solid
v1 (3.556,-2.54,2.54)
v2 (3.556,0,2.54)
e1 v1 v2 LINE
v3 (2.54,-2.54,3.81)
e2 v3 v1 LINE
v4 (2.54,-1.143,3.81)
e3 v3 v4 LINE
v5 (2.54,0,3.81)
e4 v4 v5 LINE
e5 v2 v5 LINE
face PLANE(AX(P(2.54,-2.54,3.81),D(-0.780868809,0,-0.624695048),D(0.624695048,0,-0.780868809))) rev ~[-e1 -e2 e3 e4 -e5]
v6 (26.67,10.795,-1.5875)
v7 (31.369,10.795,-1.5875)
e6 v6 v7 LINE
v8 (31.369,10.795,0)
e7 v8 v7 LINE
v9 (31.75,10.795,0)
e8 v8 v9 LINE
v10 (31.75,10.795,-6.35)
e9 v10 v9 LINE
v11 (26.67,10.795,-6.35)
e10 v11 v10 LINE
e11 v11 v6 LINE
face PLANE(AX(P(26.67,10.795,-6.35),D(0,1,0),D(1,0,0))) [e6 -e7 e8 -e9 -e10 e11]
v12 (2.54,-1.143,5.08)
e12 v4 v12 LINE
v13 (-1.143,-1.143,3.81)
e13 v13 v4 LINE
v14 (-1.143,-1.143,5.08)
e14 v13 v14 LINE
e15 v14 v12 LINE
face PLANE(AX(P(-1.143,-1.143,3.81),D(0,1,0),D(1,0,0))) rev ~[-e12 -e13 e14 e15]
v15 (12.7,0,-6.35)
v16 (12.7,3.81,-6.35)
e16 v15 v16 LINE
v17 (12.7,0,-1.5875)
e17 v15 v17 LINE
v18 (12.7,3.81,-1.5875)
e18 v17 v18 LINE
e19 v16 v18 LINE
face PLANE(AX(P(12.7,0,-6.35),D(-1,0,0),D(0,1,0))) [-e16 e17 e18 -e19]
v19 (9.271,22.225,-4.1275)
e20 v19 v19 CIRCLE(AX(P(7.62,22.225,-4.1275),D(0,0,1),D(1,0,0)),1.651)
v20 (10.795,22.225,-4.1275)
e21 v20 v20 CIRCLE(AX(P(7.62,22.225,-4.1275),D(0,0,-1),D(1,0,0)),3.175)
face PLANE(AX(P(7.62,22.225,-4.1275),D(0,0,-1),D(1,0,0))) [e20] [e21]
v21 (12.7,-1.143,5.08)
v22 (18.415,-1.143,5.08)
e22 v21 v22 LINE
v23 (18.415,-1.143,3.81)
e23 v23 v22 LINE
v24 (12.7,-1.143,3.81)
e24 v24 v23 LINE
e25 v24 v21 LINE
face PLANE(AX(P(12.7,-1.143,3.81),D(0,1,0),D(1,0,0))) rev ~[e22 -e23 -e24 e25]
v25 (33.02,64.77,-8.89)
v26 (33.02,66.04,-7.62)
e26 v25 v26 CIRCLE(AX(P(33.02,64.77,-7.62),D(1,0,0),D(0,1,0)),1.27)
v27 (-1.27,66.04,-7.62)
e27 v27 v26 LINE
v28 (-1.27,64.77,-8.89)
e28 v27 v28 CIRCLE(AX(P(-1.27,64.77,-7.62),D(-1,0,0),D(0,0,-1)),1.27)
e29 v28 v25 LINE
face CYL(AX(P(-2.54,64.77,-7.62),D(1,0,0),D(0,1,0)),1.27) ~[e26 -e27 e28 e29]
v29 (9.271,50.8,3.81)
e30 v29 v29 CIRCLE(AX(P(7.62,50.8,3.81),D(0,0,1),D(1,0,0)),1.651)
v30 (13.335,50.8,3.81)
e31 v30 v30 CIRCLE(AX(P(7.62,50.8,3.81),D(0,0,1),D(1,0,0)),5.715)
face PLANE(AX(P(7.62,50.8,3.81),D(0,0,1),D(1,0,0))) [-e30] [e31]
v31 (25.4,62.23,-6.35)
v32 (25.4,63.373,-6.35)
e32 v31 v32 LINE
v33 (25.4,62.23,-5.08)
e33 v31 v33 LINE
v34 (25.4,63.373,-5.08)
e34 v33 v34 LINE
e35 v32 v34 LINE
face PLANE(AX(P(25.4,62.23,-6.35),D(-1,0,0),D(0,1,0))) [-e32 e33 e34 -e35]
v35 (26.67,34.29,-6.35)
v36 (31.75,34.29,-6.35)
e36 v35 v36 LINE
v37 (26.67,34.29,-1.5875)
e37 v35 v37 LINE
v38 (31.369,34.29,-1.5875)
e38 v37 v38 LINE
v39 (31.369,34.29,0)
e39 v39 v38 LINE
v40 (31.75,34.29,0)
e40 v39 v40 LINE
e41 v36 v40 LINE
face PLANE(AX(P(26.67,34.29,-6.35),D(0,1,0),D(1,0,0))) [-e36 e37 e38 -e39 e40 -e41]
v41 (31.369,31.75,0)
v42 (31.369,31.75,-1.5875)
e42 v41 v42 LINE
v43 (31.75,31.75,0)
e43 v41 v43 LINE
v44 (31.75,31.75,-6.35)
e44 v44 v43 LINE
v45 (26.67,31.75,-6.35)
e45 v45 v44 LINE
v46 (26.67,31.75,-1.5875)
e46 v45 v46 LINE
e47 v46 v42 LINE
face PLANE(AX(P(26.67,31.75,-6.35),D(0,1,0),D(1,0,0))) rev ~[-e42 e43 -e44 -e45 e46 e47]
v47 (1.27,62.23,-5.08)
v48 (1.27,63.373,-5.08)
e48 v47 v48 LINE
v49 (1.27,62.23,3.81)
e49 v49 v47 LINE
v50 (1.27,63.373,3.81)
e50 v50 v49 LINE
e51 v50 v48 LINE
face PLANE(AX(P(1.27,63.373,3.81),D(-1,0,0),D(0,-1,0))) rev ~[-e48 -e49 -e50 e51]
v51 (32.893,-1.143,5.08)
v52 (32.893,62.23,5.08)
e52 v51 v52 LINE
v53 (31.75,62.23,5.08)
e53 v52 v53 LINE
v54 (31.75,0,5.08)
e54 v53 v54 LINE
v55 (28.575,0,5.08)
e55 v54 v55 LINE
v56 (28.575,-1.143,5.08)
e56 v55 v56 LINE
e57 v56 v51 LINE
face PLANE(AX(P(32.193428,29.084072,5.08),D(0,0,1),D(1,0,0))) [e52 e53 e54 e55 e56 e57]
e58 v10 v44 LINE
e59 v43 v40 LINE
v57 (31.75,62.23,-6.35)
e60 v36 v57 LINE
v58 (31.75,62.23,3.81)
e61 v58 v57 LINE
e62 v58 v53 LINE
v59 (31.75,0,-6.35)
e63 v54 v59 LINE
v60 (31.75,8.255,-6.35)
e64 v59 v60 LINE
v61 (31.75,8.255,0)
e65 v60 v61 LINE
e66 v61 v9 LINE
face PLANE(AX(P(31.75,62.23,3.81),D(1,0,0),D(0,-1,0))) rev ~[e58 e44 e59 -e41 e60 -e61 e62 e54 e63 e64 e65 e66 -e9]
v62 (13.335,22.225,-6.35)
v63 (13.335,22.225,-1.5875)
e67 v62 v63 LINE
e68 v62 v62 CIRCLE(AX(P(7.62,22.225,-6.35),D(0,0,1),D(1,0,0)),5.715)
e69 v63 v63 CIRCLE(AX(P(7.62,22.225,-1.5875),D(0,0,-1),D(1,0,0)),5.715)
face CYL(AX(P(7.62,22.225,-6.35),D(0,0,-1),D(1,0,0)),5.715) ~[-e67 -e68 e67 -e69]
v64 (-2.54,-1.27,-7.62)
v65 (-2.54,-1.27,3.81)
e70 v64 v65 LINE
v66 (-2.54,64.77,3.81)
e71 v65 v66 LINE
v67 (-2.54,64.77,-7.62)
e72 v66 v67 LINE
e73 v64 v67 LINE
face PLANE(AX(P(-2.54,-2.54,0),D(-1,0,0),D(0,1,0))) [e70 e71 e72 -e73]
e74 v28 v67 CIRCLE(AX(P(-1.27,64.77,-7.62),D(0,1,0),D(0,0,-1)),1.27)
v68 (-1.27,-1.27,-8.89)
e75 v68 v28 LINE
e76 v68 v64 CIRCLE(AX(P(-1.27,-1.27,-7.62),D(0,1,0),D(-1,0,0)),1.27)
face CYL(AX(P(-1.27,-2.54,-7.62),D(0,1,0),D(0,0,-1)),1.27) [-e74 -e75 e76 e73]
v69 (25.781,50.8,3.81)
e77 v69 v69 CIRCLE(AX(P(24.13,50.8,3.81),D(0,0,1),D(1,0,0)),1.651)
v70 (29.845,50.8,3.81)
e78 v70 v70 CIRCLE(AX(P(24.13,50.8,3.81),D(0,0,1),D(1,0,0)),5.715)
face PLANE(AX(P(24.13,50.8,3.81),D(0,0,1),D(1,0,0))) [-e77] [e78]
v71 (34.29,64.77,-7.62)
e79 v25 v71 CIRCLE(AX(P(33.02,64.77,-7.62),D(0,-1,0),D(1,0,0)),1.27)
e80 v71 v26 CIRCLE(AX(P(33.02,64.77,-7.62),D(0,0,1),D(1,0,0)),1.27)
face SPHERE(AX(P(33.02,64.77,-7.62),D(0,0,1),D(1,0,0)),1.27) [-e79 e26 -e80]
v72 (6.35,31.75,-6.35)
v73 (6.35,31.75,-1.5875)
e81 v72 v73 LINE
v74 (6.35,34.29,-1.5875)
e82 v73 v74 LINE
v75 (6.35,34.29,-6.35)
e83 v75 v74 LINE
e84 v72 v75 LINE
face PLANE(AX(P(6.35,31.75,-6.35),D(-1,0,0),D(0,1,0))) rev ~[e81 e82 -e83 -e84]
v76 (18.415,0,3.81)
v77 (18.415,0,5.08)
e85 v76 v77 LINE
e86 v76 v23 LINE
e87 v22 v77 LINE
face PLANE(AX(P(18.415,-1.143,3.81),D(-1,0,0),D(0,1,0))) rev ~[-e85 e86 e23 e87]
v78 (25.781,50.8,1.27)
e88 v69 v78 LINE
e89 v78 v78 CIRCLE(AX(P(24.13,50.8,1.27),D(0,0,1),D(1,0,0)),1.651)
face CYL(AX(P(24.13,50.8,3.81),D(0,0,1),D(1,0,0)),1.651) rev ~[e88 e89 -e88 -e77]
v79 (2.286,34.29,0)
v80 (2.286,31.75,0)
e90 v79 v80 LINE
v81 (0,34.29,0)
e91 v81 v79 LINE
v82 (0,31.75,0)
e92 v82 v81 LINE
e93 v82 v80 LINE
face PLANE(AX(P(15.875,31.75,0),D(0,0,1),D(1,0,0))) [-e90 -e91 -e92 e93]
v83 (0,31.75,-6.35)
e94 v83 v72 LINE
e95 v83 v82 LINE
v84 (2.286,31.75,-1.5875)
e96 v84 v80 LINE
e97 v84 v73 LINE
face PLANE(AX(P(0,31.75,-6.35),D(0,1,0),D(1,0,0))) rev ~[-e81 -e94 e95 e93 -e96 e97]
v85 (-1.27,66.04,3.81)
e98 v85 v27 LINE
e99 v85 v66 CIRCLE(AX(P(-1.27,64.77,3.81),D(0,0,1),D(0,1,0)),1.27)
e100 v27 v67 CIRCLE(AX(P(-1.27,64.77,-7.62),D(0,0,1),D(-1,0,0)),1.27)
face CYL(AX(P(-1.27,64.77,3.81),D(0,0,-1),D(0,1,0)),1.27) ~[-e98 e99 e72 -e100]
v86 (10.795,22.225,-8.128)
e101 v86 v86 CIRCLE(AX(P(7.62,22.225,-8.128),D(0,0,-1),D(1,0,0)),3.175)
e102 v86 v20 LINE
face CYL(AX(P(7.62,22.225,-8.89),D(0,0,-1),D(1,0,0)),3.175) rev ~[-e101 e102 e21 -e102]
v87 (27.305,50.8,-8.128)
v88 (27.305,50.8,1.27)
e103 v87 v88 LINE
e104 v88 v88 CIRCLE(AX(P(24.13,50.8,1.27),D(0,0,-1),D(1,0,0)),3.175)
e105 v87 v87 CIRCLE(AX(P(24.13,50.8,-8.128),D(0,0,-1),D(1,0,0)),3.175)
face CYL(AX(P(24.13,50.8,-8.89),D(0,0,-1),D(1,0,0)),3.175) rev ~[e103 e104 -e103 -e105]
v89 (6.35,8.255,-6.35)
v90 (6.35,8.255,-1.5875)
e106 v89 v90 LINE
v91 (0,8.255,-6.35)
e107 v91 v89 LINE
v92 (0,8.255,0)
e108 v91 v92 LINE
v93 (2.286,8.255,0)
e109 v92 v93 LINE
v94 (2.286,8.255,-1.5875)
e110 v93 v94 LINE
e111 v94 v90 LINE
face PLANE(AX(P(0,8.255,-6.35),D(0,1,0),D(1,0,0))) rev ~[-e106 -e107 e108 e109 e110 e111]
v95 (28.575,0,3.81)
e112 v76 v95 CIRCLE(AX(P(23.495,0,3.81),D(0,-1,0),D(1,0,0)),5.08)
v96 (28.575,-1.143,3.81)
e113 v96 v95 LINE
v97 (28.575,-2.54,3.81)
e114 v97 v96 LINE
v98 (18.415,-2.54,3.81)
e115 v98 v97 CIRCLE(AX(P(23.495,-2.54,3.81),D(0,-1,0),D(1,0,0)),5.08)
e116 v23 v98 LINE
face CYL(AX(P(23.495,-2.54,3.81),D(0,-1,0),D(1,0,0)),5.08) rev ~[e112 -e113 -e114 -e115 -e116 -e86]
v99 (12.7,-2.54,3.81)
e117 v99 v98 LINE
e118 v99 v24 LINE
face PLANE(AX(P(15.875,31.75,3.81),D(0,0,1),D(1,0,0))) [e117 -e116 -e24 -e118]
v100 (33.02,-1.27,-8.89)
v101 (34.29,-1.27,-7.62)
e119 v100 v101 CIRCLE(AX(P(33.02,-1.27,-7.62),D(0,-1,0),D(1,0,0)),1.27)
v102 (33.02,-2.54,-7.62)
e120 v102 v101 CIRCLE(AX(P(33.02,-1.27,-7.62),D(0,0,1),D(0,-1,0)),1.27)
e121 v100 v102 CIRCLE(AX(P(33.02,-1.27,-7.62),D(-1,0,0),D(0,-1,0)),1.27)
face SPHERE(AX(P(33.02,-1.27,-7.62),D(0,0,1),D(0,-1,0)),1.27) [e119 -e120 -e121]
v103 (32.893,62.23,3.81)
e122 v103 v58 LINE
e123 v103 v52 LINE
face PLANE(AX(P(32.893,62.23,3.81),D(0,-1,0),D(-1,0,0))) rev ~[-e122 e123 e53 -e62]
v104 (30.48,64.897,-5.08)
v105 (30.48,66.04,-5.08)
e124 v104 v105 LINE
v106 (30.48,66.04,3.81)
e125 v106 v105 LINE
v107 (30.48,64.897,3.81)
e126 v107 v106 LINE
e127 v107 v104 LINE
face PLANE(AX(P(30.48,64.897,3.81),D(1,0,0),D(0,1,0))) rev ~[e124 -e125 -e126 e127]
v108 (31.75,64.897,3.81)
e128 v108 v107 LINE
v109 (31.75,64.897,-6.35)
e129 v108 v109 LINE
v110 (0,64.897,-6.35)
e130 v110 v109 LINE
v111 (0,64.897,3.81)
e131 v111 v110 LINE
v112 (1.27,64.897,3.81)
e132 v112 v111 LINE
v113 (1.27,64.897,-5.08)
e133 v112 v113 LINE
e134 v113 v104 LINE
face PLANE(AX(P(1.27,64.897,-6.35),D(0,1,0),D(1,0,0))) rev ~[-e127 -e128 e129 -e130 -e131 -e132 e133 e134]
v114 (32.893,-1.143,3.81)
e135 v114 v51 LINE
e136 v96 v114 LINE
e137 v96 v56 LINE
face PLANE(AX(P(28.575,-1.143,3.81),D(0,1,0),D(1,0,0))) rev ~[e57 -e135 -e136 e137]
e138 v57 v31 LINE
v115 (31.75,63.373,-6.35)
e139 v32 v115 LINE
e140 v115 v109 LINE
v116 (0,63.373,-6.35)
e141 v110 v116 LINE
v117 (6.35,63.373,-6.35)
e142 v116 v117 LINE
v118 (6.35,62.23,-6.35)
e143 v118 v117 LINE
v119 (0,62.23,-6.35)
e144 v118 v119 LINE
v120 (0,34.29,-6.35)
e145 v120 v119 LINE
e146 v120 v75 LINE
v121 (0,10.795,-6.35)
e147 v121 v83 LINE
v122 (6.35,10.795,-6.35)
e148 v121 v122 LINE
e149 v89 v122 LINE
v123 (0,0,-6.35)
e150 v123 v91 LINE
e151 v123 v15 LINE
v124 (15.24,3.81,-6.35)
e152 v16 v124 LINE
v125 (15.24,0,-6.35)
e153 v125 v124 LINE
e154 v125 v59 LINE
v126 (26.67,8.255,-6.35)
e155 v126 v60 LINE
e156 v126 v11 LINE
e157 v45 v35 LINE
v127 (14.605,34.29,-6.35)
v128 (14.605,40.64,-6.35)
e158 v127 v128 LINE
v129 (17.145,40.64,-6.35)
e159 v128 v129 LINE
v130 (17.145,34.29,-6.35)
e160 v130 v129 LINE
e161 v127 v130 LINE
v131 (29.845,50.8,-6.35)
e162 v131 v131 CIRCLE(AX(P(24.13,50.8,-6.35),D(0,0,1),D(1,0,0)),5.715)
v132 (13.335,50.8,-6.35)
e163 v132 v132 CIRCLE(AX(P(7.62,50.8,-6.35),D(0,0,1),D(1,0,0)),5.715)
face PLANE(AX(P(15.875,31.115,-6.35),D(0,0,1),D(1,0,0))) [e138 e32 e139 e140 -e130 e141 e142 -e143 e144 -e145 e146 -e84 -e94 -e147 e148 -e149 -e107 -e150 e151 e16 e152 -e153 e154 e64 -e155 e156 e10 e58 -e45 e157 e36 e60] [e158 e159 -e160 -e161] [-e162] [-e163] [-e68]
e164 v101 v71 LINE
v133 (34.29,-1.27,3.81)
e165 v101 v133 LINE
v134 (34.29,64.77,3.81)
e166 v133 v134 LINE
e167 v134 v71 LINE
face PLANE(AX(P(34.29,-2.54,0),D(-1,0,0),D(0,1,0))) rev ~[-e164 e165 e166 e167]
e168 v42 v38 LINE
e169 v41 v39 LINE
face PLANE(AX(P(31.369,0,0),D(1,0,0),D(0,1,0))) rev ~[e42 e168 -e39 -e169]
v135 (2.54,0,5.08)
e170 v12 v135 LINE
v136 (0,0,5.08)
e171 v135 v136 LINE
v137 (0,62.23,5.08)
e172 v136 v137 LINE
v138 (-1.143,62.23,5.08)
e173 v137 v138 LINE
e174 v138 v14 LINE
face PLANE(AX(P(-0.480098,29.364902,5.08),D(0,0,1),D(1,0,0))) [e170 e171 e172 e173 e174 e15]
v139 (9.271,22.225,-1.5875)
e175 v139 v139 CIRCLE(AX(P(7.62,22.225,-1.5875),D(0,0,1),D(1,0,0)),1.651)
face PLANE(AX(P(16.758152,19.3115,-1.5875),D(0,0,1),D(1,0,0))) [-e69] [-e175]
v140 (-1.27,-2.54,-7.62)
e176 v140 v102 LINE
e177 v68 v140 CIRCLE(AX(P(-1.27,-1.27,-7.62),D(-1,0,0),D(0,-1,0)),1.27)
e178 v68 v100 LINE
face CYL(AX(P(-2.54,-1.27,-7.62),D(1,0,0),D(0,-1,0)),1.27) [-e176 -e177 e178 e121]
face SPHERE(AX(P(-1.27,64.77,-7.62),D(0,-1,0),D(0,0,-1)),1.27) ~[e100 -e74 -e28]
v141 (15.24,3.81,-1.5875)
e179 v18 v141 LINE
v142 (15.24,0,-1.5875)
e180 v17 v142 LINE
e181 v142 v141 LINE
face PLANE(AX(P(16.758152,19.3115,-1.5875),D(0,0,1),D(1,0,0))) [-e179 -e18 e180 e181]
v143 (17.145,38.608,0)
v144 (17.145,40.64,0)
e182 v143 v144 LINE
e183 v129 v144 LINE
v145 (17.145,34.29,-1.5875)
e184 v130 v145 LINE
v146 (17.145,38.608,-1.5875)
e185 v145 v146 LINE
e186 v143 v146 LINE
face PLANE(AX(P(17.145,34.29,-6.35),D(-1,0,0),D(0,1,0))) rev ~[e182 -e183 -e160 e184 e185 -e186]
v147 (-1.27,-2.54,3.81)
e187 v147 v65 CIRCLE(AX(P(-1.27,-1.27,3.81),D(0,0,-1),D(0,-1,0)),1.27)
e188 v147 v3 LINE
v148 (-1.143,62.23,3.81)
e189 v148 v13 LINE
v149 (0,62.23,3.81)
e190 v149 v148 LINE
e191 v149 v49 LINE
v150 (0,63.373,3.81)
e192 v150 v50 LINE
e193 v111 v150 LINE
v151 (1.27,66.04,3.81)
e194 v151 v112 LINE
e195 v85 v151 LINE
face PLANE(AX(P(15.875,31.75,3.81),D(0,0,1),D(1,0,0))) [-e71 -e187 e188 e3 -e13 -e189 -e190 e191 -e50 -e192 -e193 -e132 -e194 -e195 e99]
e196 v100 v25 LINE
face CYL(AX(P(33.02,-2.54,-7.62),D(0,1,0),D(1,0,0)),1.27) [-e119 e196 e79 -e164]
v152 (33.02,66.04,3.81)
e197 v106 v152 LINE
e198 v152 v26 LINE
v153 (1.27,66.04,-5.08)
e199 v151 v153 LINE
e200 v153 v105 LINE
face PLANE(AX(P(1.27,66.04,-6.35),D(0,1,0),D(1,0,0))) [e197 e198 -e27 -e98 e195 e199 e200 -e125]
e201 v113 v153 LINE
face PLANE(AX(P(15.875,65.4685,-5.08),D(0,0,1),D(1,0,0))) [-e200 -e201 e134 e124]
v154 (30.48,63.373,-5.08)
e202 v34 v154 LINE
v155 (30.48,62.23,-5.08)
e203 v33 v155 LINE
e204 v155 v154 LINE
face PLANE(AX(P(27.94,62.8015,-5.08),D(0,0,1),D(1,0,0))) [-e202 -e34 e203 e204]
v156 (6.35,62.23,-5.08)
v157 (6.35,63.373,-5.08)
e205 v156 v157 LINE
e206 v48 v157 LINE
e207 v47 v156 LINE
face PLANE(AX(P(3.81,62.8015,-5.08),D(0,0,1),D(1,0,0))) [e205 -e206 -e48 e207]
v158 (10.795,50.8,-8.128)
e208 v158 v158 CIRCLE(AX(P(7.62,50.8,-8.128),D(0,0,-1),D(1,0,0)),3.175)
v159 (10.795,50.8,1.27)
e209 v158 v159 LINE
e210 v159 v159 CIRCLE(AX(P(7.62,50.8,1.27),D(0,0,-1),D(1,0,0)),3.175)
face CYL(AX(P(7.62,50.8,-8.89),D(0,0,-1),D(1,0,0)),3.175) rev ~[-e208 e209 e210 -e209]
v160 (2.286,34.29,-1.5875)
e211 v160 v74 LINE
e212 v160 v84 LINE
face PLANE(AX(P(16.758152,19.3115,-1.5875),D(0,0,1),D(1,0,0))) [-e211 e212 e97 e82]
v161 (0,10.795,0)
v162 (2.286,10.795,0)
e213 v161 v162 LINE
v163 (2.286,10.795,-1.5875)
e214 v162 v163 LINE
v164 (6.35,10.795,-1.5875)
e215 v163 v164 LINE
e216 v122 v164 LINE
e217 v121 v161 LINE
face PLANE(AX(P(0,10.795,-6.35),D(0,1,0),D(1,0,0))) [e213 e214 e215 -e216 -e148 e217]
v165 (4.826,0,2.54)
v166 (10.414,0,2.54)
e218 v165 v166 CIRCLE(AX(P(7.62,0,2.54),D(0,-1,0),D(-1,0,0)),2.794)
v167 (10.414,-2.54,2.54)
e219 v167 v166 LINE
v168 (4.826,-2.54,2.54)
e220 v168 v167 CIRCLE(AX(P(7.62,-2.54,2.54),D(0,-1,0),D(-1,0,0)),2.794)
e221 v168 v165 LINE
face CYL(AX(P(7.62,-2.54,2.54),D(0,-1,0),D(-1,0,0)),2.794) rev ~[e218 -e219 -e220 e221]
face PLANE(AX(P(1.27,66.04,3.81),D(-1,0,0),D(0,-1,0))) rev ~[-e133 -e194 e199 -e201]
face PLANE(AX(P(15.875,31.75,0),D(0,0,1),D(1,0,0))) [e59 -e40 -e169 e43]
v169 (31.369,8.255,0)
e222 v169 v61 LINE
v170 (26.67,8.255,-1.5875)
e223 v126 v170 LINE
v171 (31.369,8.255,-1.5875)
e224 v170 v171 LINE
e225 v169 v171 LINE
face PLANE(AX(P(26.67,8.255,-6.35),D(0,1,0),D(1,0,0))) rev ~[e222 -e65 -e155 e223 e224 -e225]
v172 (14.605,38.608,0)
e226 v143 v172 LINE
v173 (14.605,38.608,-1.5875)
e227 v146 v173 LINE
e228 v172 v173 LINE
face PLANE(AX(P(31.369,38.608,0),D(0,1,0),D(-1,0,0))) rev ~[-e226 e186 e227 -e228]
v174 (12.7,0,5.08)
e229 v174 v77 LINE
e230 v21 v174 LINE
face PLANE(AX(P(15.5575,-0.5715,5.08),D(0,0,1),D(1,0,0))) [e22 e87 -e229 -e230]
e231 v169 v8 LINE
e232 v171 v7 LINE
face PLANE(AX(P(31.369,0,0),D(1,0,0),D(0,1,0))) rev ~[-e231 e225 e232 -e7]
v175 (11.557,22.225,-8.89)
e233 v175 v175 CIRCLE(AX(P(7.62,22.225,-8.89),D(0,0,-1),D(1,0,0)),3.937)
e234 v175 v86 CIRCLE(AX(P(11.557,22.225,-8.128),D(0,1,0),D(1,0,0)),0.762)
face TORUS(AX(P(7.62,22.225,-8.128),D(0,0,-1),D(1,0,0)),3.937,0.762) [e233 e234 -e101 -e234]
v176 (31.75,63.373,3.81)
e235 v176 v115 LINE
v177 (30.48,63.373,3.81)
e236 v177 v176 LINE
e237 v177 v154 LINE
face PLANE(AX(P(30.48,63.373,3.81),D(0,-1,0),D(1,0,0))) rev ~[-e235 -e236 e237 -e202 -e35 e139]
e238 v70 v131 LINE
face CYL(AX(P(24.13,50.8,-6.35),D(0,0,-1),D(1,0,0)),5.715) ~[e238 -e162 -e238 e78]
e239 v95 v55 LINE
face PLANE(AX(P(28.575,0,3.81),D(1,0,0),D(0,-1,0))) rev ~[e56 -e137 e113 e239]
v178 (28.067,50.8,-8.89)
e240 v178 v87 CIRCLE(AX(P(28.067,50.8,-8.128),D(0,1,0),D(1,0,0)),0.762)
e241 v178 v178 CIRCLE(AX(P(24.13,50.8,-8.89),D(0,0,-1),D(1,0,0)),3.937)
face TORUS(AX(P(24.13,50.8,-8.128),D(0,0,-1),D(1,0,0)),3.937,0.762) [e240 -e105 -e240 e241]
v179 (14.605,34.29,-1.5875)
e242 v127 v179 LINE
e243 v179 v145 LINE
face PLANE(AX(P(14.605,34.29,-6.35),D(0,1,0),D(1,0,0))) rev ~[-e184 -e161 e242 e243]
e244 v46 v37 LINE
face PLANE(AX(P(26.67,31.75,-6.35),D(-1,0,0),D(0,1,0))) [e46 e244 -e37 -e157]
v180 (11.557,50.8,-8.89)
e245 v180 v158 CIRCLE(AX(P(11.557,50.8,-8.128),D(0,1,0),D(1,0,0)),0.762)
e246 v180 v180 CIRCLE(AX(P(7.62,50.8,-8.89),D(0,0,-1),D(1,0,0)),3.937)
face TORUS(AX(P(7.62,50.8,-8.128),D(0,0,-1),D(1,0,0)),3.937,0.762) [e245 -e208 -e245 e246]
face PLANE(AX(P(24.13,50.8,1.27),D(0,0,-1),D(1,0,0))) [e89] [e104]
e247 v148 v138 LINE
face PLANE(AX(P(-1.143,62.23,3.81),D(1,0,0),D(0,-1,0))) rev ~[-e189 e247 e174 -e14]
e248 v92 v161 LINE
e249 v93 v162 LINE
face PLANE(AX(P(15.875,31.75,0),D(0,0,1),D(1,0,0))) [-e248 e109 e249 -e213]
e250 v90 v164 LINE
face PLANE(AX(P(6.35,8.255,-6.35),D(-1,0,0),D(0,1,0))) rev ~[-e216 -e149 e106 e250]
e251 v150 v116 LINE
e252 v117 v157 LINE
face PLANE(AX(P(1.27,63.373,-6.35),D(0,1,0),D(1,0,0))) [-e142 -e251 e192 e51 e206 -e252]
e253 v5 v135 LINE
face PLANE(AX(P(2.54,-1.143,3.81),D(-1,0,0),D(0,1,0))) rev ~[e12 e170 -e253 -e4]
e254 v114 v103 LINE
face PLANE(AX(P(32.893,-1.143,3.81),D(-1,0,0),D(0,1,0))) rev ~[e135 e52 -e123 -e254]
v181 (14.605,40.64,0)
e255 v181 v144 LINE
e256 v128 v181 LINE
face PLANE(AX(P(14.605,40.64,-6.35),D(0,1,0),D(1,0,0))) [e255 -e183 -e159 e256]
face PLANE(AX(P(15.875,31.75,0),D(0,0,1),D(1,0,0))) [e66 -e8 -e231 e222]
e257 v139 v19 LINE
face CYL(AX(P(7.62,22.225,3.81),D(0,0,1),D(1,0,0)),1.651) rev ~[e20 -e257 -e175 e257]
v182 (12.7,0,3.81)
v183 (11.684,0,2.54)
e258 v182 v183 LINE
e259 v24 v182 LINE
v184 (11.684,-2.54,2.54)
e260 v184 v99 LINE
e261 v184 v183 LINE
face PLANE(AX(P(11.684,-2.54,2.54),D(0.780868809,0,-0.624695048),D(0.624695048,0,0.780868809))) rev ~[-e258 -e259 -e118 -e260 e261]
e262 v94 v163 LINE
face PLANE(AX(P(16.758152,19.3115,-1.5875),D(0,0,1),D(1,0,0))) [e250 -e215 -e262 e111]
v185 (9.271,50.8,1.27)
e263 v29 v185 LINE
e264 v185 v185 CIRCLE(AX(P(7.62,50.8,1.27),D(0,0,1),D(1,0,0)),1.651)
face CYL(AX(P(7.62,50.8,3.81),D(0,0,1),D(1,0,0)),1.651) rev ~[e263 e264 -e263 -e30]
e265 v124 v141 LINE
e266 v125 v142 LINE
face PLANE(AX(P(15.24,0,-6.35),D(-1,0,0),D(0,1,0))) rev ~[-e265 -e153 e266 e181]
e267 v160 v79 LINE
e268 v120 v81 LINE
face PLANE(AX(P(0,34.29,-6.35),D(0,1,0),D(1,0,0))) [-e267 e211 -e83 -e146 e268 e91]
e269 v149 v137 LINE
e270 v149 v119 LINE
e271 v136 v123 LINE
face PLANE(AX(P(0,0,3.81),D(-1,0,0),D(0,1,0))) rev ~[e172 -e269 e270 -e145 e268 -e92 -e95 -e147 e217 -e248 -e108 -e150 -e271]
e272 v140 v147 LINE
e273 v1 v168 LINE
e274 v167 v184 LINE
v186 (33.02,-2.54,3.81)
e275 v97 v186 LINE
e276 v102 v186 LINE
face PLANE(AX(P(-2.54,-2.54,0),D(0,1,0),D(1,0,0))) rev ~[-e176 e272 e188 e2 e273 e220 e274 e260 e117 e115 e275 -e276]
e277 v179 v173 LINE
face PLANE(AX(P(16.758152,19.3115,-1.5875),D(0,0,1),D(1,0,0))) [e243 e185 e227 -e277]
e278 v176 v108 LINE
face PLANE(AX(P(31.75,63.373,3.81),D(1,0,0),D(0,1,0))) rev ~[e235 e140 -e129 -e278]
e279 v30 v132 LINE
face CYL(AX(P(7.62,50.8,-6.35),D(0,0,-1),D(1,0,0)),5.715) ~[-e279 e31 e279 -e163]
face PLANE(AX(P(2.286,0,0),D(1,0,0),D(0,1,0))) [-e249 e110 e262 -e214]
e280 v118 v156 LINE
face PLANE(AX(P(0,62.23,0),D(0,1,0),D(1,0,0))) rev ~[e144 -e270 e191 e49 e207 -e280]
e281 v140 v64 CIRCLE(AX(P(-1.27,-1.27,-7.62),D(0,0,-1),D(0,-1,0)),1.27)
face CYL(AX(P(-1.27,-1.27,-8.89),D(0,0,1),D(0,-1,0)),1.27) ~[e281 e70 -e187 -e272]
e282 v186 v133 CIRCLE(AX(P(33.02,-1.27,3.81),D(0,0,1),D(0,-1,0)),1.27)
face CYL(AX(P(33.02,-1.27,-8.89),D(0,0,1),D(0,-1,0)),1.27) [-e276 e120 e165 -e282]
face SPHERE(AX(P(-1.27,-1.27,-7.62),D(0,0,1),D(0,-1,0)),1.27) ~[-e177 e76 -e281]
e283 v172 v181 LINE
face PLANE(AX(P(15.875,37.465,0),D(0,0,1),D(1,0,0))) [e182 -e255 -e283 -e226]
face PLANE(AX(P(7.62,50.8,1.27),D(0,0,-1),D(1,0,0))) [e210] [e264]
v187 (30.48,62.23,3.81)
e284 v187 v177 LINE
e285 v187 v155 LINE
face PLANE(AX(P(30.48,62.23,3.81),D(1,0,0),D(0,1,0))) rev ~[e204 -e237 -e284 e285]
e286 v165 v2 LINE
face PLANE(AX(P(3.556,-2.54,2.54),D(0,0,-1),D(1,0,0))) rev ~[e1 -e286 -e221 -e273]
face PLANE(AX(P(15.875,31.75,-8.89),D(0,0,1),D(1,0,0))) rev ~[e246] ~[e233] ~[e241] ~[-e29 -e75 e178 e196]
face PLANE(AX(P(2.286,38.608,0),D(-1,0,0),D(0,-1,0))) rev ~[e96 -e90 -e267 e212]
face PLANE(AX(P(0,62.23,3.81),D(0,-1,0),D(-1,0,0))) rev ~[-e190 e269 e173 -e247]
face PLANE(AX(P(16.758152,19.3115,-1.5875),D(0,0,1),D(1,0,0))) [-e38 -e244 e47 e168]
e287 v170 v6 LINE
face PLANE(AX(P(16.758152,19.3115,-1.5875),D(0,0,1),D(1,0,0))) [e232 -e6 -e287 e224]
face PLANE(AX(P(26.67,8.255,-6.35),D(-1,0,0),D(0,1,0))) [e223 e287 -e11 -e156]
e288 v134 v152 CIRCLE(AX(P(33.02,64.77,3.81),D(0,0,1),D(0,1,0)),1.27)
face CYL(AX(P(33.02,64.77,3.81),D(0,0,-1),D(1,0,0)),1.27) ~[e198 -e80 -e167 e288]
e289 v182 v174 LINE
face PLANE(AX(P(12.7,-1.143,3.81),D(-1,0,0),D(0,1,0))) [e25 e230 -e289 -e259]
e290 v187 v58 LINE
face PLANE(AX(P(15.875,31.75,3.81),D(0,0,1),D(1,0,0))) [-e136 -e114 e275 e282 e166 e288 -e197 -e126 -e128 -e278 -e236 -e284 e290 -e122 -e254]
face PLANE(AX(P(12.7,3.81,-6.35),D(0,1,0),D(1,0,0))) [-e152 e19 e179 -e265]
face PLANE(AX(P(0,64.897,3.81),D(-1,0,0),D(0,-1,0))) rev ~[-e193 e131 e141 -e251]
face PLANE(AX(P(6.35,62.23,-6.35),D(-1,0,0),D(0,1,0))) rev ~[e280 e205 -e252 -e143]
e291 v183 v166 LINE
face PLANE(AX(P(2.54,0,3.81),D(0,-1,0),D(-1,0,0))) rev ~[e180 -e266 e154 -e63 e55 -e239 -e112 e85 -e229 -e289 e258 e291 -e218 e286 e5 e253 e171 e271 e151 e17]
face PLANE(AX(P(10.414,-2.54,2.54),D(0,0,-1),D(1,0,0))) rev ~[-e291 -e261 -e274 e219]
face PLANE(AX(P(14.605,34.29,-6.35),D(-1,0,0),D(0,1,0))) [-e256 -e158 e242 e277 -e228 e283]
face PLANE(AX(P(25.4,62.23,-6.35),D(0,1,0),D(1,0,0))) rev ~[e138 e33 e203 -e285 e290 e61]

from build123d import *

# Parameters (mm, degrees)
SKETCH008_W     = 36.83
SKETCH008_H     = 68.58
PAD006_DEPTH    = 8.89
SKETCH009_W     = 31.75
SKETCH009_H     = 62.23
POCKET001_DEPTH = 6.35
SKETCH010_R     = 5.715
SKETCH010_W     = 6.35
SKETCH010_H     = 2.54
SKETCH010_W_2   = 5.08
SKETCH010_W_3   = 2.54
SKETCH010_H_2   = 6.35
SKETCH010_H_3   = 3.81
PAD007_DEPTH    = 6.35
POCKET002_DEPTH = 1.5875
SKETCH012_W     = 36.83
SKETCH012_H     = 68.58
SKETCH012_W_2   = 31.75
SKETCH012_H_2   = 62.23
SKETCH012_R     = 5.715
PAD008_DEPTH    = 3.81
SKETCH013_R     = 5.08
POCKET003_DEPTH = 5.08
SKETCH014_R     = 1.651
POCKET004_DEPTH = 12.701
SKETCH015_R     = 3.175
POCKET005_DEPTH = 10.16
SKETCH016_R     = 3.175
POCKET006_DEPTH = 4.7625
SKETCH017_W     = 5.715
SKETCH017_H     = 1.143
PAD009_DEPTH    = 1.27
POCKET007_DEPTH = 10.16
SKETCH019_W     = 29.21
SKETCH019_H     = 1.143
SKETCH019_W_2   = 5.08
PAD010_DEPTH    = 1.27
FILLET004_R     = 1.27
FILLET005_R     = 0.762


with BuildPart() as part:
    # Sketch008 → Pad006 (new body)
    with BuildSketch(Plane.XY):
        with Locations((15.875, 31.75)):
            Rectangle(SKETCH008_W, SKETCH008_H)
    extrude(amount=-PAD006_DEPTH)

    # Sketch009 (on Face5 of Pad006) → Pocket001 (cut)
    with BuildSketch(Plane.XY):
        with Locations((15.875, 31.115)):
            Rectangle(SKETCH009_W, SKETCH009_H)
    extrude(amount=-POCKET001_DEPTH, mode=Mode.SUBTRACT)

    # Sketch010 (on Face11 of Pocket001) → Pad007 (join)
    with BuildSketch(Plane.XY.offset(-6.35)):
        with Locations((7.62, 22.225)):
            Circle(SKETCH010_R)
        with Locations((7.62, 50.8)):
            Circle(SKETCH010_R)
        with Locations((24.13, 50.8)):
            Circle(SKETCH010_R)
        with Locations((3.175, 33.02)):
            Rectangle(SKETCH010_W, SKETCH010_H)
        with Locations((29.21, 33.02)):
            Rectangle(SKETCH010_W_2, SKETCH010_H)
        with Locations((3.175, 9.525)):
            Rectangle(SKETCH010_W, SKETCH010_H)
        with Locations((29.21, 9.525)):
            Rectangle(SKETCH010_W_2, SKETCH010_H)
        with Locations((15.875, 37.465)):
            Rectangle(SKETCH010_W_3, SKETCH010_H_2)
        with Locations((13.97, 1.905)):
            Rectangle(SKETCH010_W_3, SKETCH010_H_3)
    extrude(amount=PAD007_DEPTH)

    # Sketch011 (on Face4 of Pad007) → Pocket002 (cut)
    with BuildSketch(Plane.XY):
        with BuildLine():
            Line((2.286, 0), (31.369, 0))
            Line((31.369, 0), (31.369, 38.608))
            Line((31.369, 38.608), (2.286, 38.608))
            Line((2.286, 38.608), (2.286, 25.670424))
            ThreePointArc((2.286, 25.670424), (1.27, 22.225), (2.286, 18.779576))
            Line((2.286, 0), (2.286, 18.779576))
        make_face()
    extrude(amount=-POCKET002_DEPTH, mode=Mode.SUBTRACT)

    # Sketch012 (on Face4 of Pocket002) → Pad008 (join)
    with BuildSketch(Plane.XY):
        with Locations((15.875, 31.75)):
            Rectangle(SKETCH012_W, SKETCH012_H)
        with Locations((15.875, 31.115)):
            Rectangle(SKETCH012_W_2, SKETCH012_H_2, mode=Mode.SUBTRACT)
        with Locations((7.62, 50.8)):
            Circle(SKETCH012_R)
        with Locations((24.13, 50.8)):
            Circle(SKETCH012_R)
    extrude(amount=PAD008_DEPTH)

    # Sketch013 (on Face4 of Pad008) → Pocket003 (cut)
    with BuildSketch(Plane.XZ.offset(2.54)):
        with Locations((23.495, 3.81)):
            Circle(SKETCH013_R)
        with BuildLine():
            Line((2.54, 3.81), (3.556, 2.54))
            Line((3.556, 2.54), (4.826, 2.54))
            ThreePointArc((4.826, 2.54), (7.62, -0.254), (10.414, 2.54))
            Line((10.414, 2.54), (11.684, 2.54))
            Line((11.684, 2.54), (12.7, 3.81))
            Line((12.7, 3.81), (2.54, 3.81))
        make_face()
    extrude(amount=-POCKET003_DEPTH, mode=Mode.SUBTRACT)

    # Sketch014 (on Face11 of Pocket003) → Pocket004 (cut, through all)
    with BuildSketch(Plane.XY.offset(3.81)):
        with Locations((7.62, 50.8)):
            Circle(SKETCH014_R)
        with Locations((24.13, 50.8)):
            Circle(SKETCH014_R)
        with Locations((7.62, 22.225)):
            Circle(SKETCH014_R)
    extrude(amount=-POCKET004_DEPTH, mode=Mode.SUBTRACT)

    # Sketch015 (on Face8 of Pocket004) → Pocket005 (cut)
    with BuildSketch(Plane(origin=(0, 0, -8.89), x_dir=(1, 0, 0), z_dir=(0, 0, -1))):
        with Locations((7.62, -50.8)):
            Circle(SKETCH015_R)
        with Locations((24.13, -50.8)):
            Circle(SKETCH015_R)
    extrude(amount=-POCKET005_DEPTH, mode=Mode.SUBTRACT)

    # Sketch016 (on Face8 of Pocket005) → Pocket006 (cut)
    with BuildSketch(Plane(origin=(0, 0, -8.89), x_dir=(1, 0, 0), z_dir=(0, 0, -1))):
        with Locations((7.62, -22.225)):
            Circle(SKETCH016_R)
    extrude(amount=-POCKET006_DEPTH, mode=Mode.SUBTRACT)

    # Sketch017 (on Face11 of Pocket006) → Pad009 (join)
    with BuildSketch(Plane.XY.offset(3.81)):
        Polygon((0, 62.23), (-1.143, 62.23), (-1.143, -1.143), (2.54, -1.143), (2.54, 0), (0, 0), align=None)
        Polygon((31.75, 62.23), (31.75, 0), (28.575, 0), (28.575, -1.143), (32.893, -1.143), (32.893, 62.23), align=None)
        with Locations((15.5575, -0.5715)):
            Rectangle(SKETCH017_W, SKETCH017_H)
    extrude(amount=PAD009_DEPTH)

    # Sketch018 (on Face11 of Pad009) → Pocket007 (cut)
    with BuildSketch(Plane.XY.offset(3.81)):
        Polygon((1.27, 66.04), (1.27, 64.897), (0, 64.897), (0, 63.373), (1.27, 63.373), (1.27, 62.23), (30.48, 62.23), (30.48, 63.373), (31.75, 63.373), (31.75, 64.897), (30.48, 64.897), (30.48, 66.04), align=None)
    extrude(amount=-POCKET007_DEPTH, mode=Mode.SUBTRACT)

    # Sketch019 (on Face63 of Pocket007) → Pad010 (join)
    with BuildSketch(Plane.XY.offset(-6.35)):
        with Locations((15.875, 65.4685)):
            Rectangle(SKETCH019_W, SKETCH019_H)
        with Locations((3.81, 62.8015)):
            Rectangle(SKETCH019_W_2, SKETCH019_H)
        with Locations((27.94, 62.8015)):
            Rectangle(SKETCH019_W_2, SKETCH019_H)
    extrude(amount=PAD010_DEPTH)

    # Fillet004
    fillet004_edges = [part.edges().sort_by_distance(p)[0] for p in [
        (-2.54, -2.54, 1.905),
        (-2.54, -2.54, -4.445),
        (34.29, -2.54, -4.445),
        (34.29, -2.54, 1.905),
        (34.29, 66.04, 1.905),
        (34.29, 66.04, -4.445),
        (15.875, -2.54, -8.89),
        (34.29, 31.75, -8.89),
        (-2.54, 31.75, -8.89),
        (15.875, 66.04, -8.89),
        (-2.54, 66.04, 1.905),
        (-2.54, 66.04, -4.445),
    ]]
    fillet(fillet004_edges, radius=FILLET004_R)

    # Fillet005
    fillet005_edges = [part.edges().sort_by_distance(p)[0] for p in [
        (4.445, 22.225, -8.89),
        (20.955, 50.8, -8.89),
        (4.445, 50.8, -8.89),
    ]]
    fillet(fillet005_edges, radius=FILLET005_R)


solid = part.part
